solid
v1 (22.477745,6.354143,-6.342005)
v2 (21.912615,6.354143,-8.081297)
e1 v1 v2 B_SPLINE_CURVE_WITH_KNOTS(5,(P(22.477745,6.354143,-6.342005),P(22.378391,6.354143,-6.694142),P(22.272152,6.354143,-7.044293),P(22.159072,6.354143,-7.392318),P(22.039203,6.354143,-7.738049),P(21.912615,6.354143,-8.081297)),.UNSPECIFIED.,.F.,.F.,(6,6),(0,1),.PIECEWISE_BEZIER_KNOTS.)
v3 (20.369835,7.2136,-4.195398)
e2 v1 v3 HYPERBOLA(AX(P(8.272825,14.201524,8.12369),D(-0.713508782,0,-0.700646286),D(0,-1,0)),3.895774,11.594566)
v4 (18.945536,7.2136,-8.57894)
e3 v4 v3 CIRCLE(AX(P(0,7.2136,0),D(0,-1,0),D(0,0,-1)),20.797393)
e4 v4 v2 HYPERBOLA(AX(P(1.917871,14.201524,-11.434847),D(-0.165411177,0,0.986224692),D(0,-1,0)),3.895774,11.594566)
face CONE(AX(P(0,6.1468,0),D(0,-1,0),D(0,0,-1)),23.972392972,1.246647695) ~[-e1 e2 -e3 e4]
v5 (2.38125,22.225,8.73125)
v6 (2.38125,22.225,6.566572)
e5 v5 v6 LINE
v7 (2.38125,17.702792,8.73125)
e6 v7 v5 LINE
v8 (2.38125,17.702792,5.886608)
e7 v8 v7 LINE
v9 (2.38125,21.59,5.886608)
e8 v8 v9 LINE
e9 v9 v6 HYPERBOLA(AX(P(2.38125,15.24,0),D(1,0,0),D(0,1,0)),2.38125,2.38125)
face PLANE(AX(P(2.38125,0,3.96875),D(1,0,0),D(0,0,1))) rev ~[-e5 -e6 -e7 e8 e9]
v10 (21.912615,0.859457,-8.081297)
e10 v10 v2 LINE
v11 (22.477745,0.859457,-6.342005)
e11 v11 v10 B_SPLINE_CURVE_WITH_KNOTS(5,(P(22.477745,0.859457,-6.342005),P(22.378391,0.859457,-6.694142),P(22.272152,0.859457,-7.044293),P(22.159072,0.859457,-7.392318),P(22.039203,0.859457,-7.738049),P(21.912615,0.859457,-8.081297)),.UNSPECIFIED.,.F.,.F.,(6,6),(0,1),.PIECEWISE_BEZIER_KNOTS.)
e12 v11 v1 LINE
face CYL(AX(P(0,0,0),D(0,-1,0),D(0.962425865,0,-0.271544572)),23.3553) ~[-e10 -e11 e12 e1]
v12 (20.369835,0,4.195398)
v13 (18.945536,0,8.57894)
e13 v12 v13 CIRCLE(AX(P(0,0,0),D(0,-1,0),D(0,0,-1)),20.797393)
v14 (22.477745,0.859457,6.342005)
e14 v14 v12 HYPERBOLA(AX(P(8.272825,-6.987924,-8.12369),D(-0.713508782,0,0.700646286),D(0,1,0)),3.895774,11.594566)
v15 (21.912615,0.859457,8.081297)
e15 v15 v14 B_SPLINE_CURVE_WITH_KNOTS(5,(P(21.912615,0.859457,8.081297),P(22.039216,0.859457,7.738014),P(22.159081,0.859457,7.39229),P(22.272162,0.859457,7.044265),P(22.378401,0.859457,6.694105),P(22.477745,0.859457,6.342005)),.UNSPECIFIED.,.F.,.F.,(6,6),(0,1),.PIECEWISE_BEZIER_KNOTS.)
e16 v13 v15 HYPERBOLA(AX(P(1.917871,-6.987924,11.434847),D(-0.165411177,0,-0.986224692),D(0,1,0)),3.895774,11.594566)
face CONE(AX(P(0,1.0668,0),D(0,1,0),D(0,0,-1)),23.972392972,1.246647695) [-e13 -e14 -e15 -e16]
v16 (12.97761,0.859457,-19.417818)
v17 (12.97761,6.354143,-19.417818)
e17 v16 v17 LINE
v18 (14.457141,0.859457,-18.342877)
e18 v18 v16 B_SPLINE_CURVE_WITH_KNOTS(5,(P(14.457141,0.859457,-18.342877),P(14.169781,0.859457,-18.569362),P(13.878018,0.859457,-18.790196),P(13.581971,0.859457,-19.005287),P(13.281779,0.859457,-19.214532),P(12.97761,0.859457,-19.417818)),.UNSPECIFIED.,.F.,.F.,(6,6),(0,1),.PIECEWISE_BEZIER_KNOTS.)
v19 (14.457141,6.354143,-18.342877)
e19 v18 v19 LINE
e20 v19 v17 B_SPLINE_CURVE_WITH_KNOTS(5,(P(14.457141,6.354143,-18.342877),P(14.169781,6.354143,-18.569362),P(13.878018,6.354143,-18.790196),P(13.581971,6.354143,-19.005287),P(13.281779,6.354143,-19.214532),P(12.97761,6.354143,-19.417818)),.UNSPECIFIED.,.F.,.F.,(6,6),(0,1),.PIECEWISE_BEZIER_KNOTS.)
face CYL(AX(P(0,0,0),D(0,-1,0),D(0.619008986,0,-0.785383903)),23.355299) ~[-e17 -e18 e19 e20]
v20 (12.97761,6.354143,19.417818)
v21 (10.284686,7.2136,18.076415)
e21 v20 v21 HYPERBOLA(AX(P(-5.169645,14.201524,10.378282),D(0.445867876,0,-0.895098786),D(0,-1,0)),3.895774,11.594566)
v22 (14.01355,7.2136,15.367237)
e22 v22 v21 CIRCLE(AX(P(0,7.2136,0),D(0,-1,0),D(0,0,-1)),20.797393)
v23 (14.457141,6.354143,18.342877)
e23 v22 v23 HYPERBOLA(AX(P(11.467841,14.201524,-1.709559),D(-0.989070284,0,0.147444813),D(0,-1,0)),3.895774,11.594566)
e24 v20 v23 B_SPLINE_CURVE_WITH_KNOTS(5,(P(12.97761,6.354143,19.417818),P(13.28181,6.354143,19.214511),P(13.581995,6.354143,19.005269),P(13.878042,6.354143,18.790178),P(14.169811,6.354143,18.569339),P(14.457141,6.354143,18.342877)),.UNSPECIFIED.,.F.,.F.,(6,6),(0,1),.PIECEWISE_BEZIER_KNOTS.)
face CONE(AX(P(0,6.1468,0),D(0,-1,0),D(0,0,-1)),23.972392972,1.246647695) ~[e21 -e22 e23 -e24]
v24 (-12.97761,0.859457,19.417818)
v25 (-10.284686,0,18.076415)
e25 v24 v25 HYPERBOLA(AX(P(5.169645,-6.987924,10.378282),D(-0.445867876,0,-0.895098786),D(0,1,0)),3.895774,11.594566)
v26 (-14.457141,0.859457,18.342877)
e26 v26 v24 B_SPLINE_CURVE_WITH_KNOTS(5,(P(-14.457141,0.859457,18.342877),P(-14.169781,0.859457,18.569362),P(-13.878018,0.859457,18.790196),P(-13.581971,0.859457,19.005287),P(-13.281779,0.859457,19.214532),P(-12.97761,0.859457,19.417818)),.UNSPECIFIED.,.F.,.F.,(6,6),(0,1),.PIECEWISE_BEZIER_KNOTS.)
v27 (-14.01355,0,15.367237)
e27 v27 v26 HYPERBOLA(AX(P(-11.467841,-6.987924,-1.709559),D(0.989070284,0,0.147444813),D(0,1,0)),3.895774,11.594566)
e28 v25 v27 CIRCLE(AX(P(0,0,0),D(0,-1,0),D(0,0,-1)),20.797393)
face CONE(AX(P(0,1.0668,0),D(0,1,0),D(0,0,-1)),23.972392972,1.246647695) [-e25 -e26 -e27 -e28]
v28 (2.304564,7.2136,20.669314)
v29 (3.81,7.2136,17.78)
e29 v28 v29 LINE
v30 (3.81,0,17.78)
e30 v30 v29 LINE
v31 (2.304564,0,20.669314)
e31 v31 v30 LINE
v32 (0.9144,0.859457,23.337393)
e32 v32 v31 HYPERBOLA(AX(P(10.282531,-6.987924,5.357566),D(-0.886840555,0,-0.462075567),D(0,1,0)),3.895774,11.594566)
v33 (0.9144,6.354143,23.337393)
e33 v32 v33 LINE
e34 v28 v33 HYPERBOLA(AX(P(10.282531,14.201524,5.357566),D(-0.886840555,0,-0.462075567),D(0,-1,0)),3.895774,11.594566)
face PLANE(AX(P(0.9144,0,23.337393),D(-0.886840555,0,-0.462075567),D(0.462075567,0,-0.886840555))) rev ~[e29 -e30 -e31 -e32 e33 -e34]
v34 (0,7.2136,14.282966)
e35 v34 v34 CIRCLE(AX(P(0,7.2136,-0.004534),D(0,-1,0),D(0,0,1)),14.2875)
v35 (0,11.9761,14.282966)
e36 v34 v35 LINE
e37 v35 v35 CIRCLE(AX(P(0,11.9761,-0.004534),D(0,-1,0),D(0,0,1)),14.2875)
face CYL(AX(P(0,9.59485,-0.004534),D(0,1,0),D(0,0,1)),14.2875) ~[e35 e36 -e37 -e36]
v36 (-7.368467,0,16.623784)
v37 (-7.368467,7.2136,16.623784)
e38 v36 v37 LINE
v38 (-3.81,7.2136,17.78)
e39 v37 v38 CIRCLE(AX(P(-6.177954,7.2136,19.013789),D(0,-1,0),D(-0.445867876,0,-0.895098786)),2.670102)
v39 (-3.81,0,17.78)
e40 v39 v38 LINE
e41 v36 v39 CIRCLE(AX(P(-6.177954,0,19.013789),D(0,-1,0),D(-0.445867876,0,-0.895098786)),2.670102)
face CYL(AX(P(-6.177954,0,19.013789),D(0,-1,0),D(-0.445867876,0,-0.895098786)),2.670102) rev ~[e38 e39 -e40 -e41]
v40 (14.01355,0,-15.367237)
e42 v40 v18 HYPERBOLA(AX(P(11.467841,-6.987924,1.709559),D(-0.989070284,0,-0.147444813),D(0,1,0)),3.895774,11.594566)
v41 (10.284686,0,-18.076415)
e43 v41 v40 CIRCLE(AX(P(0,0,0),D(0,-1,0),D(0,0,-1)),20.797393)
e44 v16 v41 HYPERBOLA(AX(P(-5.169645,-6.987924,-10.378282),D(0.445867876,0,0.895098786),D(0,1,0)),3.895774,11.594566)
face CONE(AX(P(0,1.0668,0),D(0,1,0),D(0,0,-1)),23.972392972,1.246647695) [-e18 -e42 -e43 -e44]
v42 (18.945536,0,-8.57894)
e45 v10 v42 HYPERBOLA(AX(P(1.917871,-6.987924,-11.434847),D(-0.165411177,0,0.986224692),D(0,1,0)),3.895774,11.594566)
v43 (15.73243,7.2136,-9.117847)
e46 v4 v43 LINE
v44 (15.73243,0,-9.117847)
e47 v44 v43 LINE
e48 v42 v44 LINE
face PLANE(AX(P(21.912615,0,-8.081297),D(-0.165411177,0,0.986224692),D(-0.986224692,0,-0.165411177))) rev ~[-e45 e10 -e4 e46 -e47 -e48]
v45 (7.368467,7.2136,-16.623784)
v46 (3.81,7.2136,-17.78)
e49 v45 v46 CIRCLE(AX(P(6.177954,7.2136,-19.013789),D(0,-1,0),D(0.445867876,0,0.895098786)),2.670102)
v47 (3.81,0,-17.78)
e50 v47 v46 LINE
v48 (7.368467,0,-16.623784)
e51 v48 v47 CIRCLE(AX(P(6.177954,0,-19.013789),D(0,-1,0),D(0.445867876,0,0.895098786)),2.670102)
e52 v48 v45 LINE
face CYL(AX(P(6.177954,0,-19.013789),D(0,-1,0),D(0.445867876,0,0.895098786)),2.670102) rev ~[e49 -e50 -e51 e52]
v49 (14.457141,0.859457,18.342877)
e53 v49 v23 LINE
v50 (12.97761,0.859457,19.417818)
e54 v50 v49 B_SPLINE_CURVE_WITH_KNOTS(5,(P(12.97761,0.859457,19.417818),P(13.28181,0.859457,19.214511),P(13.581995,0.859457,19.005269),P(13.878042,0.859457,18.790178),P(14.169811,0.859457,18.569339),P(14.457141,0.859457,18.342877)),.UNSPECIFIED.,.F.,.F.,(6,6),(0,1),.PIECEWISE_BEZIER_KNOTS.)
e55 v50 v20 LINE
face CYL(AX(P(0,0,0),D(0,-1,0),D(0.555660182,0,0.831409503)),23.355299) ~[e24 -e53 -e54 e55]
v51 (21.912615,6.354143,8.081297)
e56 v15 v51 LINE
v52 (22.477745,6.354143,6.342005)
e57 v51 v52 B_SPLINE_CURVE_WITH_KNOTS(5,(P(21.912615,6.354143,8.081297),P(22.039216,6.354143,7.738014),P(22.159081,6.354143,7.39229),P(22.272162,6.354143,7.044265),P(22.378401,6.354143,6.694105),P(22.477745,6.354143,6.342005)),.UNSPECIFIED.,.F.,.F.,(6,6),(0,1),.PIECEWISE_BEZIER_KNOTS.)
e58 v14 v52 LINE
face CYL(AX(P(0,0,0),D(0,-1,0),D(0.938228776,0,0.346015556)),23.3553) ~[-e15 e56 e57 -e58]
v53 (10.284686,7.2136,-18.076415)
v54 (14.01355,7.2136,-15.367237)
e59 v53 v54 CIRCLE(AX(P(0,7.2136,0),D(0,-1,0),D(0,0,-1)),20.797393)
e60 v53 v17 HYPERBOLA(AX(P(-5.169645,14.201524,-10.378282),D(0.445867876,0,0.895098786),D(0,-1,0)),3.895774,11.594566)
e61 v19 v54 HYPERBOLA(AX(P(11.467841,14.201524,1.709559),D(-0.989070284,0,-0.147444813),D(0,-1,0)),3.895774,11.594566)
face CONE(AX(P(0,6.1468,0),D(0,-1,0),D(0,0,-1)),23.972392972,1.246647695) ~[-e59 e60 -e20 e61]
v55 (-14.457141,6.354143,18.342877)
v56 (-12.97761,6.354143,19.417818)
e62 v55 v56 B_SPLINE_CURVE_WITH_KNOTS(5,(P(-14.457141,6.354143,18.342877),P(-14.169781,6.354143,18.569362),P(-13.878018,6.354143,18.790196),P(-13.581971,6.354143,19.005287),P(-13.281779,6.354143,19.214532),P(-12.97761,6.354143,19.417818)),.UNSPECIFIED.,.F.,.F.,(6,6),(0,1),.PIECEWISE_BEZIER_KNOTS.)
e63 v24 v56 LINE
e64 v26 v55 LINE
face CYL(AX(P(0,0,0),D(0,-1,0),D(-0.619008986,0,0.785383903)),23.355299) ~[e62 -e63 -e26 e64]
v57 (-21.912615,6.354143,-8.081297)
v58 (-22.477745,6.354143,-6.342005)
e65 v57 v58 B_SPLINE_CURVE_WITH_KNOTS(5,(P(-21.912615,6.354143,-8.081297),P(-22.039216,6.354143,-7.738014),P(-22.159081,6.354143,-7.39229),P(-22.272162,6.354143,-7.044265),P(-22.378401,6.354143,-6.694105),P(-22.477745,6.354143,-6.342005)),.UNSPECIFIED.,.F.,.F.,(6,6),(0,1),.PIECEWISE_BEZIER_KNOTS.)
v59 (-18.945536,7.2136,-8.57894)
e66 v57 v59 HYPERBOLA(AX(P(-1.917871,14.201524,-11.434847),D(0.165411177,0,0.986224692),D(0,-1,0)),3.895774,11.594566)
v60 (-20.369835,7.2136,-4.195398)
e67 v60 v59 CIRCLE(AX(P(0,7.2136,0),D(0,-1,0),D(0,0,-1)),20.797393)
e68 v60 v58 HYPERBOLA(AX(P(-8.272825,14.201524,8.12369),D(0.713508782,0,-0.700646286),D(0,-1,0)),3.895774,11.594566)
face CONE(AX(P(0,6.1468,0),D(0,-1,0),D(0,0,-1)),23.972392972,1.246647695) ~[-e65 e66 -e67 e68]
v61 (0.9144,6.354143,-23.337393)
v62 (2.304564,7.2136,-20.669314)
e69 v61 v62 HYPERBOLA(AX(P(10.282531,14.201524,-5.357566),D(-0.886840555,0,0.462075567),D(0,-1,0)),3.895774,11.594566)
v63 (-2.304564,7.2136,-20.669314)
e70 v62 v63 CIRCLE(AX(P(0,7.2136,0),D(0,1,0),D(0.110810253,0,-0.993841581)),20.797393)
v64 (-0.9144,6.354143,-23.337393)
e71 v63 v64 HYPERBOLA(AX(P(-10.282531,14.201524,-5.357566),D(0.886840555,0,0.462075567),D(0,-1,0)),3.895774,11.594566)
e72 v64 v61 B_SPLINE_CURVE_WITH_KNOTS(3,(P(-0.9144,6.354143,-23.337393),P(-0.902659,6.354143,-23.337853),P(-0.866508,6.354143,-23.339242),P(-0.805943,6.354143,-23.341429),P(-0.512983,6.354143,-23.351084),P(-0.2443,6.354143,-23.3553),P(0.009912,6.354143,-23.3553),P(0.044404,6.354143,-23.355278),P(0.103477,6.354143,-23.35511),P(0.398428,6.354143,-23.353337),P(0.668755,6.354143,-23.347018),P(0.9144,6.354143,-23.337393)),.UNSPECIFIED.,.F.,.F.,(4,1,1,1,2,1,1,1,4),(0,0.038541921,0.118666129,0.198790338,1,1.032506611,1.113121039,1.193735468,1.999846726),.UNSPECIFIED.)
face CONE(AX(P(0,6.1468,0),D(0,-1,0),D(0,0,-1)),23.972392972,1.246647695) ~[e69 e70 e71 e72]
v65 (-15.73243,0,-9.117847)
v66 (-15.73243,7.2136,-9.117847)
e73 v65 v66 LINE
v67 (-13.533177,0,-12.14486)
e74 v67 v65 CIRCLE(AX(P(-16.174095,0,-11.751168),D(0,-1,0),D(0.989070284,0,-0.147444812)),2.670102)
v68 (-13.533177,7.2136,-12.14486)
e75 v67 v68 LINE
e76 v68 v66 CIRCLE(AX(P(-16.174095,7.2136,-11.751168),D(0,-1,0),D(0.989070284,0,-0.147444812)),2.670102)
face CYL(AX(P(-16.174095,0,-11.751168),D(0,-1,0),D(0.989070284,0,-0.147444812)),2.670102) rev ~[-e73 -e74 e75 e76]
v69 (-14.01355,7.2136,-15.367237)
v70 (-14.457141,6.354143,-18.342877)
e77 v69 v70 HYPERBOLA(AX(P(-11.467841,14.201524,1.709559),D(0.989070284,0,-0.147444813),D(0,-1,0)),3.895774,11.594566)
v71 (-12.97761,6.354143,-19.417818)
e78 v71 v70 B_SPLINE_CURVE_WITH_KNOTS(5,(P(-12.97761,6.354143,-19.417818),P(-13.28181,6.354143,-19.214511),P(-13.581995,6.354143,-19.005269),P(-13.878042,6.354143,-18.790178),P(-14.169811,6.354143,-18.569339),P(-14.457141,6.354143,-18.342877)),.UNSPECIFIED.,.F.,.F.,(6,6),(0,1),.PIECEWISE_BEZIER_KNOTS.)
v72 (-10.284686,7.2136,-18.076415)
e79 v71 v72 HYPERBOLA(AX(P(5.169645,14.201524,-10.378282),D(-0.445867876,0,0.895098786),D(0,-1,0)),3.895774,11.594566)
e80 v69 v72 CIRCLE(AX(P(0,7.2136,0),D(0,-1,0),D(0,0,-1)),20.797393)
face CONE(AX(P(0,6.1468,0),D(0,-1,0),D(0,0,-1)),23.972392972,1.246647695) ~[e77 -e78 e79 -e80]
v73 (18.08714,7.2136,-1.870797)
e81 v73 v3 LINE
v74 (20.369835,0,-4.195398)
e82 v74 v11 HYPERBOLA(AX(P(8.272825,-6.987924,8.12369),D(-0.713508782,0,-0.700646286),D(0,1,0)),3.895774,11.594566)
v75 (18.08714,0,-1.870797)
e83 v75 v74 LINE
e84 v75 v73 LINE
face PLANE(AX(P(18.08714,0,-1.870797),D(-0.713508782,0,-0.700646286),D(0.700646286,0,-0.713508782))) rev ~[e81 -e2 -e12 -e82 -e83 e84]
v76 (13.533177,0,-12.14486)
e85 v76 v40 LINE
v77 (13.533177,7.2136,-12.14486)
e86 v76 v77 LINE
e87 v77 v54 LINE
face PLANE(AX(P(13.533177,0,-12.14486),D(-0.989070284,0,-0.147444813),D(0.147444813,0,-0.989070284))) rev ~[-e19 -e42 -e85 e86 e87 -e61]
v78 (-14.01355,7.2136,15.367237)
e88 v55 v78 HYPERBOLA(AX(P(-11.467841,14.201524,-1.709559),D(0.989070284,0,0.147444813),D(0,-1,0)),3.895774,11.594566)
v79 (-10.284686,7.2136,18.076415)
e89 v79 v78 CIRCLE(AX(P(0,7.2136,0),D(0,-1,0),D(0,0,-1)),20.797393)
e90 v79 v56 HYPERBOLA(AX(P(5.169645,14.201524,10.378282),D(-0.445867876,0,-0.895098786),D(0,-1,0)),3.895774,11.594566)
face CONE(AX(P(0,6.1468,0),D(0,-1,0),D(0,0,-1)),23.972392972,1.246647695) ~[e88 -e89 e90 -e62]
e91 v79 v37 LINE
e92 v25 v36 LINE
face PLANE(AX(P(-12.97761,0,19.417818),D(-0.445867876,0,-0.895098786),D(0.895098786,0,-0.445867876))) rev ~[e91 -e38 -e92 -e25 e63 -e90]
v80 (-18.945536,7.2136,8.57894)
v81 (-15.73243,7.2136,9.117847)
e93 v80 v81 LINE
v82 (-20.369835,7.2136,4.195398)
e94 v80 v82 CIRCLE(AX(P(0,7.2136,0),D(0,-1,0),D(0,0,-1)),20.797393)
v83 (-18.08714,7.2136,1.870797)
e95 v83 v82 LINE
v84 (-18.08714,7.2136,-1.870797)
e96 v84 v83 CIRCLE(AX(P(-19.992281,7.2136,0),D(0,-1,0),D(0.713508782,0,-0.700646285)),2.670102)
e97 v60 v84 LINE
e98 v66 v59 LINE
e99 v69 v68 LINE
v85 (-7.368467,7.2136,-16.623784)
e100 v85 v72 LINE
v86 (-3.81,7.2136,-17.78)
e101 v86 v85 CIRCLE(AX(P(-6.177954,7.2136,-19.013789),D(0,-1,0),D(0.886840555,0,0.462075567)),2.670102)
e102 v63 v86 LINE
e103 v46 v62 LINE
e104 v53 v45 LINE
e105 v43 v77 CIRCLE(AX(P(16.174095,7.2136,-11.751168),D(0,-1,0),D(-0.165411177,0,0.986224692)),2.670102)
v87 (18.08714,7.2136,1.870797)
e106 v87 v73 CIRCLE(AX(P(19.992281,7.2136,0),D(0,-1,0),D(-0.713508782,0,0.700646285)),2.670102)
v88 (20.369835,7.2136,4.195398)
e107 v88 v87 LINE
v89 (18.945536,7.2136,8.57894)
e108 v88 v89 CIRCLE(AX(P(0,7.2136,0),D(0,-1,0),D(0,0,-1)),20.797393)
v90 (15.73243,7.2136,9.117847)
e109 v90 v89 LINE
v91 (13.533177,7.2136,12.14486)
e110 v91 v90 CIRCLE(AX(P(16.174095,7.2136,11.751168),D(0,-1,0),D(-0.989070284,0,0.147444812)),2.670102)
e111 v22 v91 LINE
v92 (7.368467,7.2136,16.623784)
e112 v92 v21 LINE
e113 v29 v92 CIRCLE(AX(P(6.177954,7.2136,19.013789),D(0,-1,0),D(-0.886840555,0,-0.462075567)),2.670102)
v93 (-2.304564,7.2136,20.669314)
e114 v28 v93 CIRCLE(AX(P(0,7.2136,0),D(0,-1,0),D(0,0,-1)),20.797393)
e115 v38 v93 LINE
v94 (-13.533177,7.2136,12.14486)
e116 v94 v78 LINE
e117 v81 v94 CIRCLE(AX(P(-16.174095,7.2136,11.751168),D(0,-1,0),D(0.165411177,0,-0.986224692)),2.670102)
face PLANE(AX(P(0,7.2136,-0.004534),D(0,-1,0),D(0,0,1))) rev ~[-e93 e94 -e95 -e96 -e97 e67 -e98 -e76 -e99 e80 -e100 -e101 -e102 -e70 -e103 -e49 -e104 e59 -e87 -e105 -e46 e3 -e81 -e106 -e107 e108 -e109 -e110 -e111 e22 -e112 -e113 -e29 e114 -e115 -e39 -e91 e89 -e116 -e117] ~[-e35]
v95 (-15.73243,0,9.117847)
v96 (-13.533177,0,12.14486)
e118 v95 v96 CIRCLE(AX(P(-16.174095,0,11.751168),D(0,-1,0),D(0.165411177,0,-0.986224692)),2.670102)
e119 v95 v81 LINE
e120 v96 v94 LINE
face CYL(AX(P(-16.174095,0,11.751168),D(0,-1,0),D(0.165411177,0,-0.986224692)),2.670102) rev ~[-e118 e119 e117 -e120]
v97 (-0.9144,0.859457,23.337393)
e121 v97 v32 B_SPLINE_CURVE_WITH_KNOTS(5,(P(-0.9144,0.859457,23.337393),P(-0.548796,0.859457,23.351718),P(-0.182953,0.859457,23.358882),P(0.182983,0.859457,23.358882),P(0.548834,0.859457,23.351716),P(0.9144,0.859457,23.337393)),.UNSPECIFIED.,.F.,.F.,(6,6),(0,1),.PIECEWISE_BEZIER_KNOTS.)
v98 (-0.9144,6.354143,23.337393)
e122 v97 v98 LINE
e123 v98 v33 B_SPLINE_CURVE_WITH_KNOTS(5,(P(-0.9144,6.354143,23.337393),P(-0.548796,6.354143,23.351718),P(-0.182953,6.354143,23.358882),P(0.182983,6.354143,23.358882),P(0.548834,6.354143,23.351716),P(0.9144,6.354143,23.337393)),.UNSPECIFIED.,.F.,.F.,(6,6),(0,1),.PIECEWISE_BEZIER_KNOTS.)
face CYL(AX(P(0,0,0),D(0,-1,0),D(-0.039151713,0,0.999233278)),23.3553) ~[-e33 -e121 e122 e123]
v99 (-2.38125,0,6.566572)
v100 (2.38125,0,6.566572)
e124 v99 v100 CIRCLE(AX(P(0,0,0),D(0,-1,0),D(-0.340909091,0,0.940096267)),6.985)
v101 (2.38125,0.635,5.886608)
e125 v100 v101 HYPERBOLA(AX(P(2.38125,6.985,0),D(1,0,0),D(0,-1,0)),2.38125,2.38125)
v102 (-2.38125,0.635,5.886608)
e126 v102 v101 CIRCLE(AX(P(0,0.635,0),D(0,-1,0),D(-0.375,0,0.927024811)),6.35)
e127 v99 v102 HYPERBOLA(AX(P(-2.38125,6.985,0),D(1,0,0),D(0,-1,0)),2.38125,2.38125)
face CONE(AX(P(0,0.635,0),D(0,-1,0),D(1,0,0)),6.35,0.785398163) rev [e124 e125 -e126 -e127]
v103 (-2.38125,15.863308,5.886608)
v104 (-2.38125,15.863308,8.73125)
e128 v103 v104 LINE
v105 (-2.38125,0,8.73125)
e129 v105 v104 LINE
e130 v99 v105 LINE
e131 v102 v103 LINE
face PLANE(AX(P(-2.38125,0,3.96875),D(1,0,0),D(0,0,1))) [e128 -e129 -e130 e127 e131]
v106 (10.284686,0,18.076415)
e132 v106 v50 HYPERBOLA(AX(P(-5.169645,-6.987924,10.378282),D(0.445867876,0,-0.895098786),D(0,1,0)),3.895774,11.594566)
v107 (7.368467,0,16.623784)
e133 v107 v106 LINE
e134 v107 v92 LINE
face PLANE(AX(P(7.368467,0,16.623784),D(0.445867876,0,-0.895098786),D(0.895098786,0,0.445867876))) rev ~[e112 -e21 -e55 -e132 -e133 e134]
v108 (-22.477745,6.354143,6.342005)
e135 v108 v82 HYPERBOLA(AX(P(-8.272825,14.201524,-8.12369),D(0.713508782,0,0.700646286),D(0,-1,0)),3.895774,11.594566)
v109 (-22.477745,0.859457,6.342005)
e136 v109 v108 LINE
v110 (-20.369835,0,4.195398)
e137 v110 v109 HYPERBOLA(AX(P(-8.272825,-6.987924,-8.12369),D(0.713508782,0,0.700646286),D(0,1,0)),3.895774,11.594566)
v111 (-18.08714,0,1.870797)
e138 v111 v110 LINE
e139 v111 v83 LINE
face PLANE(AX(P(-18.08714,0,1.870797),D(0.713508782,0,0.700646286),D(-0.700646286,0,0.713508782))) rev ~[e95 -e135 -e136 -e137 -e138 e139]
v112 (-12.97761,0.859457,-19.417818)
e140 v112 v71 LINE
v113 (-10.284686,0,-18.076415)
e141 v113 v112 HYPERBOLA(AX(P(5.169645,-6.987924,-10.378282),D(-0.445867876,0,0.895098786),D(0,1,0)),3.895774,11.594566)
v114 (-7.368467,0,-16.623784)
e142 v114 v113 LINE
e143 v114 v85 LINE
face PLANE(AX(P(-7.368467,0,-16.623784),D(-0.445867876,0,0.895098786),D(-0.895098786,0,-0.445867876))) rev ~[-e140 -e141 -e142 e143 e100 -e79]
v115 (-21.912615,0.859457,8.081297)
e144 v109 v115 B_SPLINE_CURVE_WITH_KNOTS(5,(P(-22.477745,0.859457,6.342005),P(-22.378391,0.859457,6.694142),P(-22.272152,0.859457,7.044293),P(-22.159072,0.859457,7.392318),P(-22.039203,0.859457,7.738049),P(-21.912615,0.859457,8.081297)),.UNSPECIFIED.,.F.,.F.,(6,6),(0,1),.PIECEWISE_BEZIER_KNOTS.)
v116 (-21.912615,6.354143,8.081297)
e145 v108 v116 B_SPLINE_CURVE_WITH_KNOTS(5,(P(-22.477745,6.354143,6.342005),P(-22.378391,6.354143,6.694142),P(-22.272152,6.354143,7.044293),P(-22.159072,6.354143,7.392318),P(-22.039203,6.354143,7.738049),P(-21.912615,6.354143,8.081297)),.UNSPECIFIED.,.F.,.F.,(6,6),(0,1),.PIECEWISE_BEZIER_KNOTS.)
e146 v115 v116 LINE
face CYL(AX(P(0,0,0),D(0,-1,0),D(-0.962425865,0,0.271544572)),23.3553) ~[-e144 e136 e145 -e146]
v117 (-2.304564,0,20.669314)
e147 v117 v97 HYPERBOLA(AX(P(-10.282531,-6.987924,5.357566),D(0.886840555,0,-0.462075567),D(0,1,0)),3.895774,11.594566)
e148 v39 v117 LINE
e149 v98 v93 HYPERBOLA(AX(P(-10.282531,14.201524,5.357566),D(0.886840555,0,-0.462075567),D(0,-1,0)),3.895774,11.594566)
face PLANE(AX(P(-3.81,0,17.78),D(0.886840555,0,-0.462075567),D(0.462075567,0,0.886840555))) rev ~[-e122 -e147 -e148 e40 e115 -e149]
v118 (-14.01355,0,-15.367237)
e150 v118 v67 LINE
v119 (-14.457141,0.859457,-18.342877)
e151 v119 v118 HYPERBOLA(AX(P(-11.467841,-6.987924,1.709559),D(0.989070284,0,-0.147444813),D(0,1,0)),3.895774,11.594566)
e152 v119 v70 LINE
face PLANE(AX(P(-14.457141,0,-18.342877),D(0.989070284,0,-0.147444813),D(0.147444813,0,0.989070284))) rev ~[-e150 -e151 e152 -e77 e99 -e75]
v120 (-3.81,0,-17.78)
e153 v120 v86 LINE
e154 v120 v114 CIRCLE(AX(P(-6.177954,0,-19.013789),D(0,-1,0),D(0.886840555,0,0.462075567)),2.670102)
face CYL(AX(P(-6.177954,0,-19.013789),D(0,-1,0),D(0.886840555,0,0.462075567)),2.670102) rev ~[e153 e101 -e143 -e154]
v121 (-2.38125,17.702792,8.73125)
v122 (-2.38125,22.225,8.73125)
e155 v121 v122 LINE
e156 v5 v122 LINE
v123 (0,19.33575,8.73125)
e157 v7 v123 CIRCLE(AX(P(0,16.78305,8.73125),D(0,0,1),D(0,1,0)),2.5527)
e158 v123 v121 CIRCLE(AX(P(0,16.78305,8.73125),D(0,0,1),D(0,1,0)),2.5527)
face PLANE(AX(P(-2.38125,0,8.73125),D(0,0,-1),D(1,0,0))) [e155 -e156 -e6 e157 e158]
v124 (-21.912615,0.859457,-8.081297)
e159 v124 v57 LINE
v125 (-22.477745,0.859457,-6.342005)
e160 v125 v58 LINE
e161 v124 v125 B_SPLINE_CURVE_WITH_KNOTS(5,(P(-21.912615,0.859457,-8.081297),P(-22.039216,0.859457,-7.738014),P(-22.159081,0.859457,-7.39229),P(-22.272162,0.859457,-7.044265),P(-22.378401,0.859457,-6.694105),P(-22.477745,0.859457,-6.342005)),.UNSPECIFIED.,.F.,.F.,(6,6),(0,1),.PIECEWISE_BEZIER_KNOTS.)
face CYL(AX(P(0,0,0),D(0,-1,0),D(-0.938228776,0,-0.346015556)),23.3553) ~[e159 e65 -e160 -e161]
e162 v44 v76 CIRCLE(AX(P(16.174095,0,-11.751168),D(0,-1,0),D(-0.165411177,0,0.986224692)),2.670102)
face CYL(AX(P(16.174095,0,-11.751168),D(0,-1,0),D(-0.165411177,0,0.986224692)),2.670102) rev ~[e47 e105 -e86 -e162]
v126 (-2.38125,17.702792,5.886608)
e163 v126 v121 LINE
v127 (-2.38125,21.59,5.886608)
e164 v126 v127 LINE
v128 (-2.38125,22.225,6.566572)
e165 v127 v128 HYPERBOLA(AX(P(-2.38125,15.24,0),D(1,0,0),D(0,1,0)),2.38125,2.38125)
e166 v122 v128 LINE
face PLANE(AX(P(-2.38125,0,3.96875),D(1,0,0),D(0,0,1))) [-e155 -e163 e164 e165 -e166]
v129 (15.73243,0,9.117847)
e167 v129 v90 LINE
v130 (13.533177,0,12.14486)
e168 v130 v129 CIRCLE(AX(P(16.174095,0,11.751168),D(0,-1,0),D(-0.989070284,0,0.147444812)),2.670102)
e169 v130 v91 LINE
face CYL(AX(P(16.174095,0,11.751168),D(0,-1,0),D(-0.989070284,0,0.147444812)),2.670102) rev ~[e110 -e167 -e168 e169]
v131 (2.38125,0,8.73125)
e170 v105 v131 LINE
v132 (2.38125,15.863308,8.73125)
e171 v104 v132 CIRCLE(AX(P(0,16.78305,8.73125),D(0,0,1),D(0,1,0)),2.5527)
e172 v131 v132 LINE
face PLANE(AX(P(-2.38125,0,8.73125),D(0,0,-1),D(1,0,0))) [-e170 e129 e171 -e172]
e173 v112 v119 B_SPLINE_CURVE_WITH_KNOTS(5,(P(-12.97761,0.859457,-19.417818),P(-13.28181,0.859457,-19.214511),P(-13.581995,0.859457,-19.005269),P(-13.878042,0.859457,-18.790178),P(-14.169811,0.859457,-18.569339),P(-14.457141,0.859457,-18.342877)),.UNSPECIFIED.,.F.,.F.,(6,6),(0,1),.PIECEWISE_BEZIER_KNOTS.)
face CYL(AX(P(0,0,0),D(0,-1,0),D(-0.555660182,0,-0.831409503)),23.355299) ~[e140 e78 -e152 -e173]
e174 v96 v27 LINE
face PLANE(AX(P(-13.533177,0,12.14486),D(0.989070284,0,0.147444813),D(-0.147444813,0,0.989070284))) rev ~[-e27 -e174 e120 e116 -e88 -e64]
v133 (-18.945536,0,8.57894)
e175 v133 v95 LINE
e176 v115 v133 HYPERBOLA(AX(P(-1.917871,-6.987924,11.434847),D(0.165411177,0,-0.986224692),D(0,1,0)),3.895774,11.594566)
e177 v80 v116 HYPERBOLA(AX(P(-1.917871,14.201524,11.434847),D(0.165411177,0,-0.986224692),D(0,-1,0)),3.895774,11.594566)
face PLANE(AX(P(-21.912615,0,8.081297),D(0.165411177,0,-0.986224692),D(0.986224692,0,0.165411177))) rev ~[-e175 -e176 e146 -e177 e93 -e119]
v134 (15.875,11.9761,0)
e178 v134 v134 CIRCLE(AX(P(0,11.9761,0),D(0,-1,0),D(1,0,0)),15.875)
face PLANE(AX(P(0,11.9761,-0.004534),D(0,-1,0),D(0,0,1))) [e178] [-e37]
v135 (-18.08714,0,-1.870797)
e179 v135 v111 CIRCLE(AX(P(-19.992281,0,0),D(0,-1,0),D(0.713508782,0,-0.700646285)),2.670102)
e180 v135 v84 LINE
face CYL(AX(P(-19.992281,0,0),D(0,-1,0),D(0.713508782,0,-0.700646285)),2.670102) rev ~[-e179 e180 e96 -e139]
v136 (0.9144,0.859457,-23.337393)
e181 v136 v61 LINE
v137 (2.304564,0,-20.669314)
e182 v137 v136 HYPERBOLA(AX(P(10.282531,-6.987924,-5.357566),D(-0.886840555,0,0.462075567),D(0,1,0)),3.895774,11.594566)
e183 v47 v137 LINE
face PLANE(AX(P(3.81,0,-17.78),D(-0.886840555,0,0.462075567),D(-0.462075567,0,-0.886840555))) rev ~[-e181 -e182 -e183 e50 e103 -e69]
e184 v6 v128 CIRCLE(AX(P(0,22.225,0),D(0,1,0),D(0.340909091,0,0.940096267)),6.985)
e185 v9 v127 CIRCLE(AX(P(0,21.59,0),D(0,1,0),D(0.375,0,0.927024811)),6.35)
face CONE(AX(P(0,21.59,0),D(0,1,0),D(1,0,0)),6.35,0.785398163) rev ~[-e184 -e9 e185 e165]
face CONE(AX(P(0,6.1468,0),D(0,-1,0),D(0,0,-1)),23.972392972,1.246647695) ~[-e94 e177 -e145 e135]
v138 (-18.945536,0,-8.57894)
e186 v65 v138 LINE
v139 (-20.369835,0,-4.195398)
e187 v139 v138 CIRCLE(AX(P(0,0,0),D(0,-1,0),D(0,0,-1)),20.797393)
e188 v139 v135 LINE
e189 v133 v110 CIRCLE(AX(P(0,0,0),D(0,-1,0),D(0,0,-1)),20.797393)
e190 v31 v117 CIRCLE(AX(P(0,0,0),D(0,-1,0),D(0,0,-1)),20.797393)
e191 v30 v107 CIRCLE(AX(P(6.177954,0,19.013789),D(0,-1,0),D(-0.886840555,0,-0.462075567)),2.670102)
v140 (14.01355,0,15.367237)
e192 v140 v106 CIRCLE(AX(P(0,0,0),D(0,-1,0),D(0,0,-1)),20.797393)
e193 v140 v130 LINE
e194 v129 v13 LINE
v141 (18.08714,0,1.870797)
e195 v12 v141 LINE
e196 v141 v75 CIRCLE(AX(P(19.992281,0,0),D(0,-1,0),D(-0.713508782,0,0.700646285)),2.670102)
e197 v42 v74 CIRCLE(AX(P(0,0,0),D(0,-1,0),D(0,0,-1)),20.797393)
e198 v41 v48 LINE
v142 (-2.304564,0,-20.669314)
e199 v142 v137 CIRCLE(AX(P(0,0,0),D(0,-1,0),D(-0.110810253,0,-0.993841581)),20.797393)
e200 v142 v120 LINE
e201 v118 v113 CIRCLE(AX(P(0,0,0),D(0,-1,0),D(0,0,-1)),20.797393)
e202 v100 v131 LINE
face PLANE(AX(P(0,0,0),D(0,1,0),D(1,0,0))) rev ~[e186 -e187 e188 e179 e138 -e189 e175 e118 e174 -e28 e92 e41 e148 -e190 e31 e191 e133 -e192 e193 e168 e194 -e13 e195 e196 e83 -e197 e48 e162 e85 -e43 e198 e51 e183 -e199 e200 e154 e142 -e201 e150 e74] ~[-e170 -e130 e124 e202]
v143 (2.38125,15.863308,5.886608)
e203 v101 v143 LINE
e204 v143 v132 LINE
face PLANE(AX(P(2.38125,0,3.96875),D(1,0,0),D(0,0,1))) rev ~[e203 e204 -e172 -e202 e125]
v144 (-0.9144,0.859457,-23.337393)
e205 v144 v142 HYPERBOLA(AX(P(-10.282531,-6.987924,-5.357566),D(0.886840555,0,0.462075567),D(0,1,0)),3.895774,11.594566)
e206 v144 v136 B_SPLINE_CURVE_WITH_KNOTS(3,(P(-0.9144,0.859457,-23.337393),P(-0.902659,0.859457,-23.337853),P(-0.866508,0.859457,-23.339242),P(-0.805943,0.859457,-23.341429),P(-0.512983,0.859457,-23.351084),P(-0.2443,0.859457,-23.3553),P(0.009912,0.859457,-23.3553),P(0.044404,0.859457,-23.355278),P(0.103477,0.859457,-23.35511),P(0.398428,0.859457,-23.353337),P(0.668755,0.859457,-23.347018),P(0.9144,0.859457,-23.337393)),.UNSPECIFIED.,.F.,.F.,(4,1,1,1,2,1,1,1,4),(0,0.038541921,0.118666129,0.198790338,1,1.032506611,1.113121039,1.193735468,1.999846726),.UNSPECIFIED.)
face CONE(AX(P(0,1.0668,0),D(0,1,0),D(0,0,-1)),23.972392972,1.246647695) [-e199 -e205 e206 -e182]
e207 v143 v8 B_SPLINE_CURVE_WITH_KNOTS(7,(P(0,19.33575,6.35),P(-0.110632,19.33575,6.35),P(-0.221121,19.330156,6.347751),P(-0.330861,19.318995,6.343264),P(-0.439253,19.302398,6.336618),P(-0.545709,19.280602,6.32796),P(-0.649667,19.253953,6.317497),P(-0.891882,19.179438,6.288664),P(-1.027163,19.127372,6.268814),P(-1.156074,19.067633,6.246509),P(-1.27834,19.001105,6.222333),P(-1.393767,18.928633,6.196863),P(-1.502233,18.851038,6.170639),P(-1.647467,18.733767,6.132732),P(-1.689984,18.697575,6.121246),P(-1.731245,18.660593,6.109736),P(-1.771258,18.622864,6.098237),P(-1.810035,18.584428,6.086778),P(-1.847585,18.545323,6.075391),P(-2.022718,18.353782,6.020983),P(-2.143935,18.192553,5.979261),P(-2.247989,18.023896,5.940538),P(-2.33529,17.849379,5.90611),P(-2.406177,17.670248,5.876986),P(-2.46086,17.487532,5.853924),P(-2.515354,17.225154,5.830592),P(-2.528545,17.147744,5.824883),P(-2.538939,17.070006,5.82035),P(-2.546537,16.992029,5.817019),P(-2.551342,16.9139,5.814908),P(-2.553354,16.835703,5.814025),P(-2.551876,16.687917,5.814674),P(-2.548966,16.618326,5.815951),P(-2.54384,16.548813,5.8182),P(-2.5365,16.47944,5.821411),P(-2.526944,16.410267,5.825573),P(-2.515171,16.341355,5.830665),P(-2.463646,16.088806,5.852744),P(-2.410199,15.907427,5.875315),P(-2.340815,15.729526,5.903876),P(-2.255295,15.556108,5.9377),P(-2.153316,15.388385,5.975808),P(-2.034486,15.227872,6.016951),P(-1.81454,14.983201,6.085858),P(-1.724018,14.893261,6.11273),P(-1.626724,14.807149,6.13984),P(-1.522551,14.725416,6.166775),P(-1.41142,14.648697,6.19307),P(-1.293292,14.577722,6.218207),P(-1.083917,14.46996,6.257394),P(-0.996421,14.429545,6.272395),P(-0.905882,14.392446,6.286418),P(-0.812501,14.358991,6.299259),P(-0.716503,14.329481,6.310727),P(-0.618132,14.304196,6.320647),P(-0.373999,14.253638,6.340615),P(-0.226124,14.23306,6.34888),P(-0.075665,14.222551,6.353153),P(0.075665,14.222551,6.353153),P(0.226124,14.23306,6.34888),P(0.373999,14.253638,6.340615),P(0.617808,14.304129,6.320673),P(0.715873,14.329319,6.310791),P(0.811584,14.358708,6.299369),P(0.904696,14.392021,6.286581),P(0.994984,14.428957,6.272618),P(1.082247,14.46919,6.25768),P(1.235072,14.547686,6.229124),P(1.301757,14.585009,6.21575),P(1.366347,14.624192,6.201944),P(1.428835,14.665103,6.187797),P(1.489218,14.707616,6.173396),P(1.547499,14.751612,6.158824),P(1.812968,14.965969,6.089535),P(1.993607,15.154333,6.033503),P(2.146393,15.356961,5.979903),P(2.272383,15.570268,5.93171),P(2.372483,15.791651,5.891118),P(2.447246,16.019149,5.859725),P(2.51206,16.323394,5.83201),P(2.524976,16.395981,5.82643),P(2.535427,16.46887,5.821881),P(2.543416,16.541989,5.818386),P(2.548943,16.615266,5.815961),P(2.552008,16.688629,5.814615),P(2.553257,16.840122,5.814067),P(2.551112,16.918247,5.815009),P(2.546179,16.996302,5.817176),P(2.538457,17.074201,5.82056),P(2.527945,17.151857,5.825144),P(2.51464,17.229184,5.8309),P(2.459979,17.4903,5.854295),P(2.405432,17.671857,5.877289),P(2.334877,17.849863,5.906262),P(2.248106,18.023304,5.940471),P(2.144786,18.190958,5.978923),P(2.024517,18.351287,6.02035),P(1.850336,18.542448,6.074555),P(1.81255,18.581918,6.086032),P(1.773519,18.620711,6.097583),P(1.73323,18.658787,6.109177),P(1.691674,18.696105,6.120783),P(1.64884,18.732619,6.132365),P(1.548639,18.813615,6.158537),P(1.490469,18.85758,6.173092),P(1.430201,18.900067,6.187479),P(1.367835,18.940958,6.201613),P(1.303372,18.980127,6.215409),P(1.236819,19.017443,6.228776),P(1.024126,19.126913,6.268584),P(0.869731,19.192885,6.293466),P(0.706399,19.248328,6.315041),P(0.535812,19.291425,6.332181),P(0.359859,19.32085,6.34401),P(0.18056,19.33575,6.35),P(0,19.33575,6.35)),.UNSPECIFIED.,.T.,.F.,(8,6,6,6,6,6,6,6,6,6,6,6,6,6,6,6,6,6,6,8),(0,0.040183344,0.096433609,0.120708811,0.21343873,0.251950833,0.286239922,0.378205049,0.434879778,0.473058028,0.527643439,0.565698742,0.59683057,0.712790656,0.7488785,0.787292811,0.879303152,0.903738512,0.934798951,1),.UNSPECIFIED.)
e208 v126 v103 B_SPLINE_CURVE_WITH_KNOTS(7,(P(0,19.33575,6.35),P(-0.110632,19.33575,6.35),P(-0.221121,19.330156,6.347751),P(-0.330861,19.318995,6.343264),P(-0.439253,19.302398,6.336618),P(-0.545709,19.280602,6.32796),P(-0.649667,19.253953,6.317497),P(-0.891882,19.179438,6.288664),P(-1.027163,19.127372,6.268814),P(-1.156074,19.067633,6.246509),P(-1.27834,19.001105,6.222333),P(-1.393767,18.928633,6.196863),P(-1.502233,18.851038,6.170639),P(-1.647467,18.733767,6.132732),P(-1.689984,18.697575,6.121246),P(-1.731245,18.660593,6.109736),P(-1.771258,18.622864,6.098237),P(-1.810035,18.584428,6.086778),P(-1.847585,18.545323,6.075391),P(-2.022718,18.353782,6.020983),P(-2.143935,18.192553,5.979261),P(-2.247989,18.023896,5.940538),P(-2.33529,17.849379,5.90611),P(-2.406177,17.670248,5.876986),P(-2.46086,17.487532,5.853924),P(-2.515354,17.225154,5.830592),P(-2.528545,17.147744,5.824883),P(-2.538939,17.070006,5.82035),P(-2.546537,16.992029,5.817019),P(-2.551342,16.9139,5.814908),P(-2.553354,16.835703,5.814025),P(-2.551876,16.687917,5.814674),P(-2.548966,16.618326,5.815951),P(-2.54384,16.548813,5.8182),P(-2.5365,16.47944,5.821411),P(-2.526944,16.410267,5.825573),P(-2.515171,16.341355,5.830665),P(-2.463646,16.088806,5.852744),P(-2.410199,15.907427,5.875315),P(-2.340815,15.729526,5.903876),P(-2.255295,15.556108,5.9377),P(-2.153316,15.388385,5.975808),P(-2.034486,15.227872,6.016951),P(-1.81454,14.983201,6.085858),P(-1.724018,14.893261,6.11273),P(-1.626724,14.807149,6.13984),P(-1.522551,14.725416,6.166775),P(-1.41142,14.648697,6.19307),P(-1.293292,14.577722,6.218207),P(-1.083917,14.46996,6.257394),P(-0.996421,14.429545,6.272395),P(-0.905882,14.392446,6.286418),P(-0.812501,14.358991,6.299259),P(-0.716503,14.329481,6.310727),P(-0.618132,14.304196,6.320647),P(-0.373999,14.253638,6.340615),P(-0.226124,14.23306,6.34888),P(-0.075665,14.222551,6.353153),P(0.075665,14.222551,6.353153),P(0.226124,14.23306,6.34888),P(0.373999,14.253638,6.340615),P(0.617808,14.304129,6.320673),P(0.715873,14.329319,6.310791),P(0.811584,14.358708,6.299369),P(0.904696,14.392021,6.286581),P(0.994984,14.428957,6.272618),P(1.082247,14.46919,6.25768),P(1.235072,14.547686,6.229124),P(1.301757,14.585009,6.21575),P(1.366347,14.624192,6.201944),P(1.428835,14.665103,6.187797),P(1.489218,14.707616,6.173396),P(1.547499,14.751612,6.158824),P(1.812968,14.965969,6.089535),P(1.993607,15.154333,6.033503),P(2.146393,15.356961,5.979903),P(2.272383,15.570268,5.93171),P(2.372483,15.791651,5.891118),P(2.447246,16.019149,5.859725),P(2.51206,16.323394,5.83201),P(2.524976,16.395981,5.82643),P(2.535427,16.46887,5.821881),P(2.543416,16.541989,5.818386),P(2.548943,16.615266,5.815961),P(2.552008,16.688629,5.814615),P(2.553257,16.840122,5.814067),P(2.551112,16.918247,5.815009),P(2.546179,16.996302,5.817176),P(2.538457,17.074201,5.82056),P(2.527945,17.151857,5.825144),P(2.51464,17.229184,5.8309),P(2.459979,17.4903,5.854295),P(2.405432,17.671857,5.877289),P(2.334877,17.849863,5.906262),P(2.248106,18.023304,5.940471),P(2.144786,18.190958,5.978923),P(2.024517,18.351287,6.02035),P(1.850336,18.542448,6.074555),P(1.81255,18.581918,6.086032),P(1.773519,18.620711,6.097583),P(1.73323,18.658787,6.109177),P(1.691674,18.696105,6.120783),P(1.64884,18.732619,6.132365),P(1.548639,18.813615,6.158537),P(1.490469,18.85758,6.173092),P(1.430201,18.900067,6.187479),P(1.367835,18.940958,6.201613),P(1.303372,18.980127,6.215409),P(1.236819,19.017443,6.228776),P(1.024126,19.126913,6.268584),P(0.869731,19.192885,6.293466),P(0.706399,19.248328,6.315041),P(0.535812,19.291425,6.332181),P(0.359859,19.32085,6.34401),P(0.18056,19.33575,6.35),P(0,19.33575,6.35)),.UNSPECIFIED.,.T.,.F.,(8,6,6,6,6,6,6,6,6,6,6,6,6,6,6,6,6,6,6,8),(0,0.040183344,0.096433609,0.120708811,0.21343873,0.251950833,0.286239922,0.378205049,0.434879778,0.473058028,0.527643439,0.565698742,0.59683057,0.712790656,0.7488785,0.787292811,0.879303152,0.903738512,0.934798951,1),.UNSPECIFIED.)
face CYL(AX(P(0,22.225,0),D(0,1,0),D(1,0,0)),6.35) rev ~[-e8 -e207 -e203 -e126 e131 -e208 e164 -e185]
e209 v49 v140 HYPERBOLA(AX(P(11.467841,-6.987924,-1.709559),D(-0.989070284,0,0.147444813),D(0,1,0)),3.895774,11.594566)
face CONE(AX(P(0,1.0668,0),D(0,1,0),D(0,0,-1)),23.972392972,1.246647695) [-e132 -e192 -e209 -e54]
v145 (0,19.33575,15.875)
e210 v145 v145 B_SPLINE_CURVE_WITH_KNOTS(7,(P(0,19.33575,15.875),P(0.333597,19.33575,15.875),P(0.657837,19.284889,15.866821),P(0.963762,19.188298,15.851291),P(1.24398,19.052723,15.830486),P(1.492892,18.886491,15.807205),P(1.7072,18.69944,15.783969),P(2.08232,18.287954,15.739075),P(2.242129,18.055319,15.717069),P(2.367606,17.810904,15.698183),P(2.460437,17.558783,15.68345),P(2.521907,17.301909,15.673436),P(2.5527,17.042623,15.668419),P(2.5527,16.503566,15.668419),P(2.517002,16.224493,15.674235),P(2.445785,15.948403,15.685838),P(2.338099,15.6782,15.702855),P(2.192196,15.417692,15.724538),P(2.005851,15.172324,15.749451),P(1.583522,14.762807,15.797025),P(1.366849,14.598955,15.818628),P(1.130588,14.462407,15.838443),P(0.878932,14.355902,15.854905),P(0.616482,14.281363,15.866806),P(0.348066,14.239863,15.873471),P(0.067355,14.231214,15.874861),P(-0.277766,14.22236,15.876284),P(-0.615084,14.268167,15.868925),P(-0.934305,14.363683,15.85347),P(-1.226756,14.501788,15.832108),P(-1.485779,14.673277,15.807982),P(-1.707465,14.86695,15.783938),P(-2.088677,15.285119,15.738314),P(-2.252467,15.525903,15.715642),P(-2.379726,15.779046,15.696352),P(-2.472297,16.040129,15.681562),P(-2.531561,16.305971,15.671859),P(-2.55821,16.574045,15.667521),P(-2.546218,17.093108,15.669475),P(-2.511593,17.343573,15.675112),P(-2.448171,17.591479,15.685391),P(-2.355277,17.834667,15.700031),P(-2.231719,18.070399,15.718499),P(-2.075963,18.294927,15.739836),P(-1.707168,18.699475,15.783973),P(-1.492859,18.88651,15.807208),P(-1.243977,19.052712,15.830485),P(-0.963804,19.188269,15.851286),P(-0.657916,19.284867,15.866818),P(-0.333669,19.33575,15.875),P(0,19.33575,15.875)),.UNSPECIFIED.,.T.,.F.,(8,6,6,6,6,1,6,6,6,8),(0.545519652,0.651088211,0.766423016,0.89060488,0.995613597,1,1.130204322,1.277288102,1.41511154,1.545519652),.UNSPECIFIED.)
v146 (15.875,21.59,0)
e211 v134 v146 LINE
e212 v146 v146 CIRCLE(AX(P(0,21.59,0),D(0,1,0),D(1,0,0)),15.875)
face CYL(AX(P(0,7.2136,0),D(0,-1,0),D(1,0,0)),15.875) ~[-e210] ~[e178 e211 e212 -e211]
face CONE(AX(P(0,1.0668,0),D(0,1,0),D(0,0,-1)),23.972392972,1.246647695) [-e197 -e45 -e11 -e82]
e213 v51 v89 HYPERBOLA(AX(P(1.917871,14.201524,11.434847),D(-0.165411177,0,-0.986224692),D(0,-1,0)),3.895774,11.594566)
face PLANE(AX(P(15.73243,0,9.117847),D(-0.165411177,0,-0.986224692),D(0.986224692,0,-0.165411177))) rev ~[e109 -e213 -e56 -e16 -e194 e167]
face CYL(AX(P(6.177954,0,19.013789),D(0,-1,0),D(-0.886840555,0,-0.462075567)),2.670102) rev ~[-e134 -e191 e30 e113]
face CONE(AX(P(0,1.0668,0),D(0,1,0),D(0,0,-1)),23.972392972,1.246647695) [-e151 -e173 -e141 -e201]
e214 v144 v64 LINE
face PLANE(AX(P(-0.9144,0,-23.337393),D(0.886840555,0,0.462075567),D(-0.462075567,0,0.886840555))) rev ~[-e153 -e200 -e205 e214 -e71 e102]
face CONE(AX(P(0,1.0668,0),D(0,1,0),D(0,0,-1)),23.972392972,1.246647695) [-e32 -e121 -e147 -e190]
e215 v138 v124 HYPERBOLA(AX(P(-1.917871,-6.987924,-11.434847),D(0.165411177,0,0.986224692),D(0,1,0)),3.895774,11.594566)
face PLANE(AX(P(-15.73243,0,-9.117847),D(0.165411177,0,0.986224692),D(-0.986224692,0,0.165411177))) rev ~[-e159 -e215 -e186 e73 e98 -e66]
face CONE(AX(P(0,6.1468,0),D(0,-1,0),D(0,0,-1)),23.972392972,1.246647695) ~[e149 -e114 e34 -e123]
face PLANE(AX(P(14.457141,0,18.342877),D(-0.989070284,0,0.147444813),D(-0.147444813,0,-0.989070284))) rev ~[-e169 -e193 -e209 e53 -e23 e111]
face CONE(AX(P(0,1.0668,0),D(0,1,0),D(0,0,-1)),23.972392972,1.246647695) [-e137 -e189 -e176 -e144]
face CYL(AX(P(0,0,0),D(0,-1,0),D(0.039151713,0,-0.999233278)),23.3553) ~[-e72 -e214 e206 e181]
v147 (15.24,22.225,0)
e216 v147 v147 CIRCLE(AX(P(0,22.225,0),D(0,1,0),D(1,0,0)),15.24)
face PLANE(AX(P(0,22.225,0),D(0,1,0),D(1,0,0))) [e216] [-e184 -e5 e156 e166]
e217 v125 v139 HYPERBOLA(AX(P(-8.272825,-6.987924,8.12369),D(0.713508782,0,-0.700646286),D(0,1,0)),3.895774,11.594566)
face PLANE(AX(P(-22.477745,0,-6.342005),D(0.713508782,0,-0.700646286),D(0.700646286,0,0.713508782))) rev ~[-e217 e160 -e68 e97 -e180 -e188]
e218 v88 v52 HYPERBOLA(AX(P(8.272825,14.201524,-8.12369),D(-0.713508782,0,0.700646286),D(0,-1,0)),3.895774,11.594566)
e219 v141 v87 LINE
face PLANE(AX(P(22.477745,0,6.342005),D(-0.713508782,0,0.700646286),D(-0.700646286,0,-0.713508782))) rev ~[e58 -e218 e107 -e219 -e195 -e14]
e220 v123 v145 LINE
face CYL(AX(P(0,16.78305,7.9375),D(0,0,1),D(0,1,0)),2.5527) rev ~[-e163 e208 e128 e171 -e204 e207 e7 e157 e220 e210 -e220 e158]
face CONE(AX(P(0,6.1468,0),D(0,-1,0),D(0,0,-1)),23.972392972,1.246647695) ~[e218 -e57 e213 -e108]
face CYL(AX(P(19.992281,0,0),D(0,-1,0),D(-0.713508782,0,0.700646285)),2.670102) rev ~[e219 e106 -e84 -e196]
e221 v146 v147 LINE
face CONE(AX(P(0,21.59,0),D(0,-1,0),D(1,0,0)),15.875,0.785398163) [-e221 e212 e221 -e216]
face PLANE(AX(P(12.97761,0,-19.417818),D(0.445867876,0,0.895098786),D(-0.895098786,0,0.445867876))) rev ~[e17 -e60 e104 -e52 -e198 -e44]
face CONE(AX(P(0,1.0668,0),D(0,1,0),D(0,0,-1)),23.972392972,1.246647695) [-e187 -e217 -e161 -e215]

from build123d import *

# Parameters (mm, degrees)
SALIENTE_EXTRUIR1_DEPTH = 7.2136
CROQUIS2_R              = 15.875
SALIENTE_EXTRUIR2_DEPTH = 15.0114
CROQUIS5_R              = 6.35
CORTAR_EXTRUIR2_DEPTH   = 23.2250001
CHAFL_N2_SIZE           = 0.635
REDONDEO1_R             = 0.635
CROQUIS8_W              = 3.175
CROQUIS8_H              = 4.7625
CROQUIS9_W              = 2.5527
CROQUIS9_H              = 15.875
CHAFL_N3_SIZE           = 0.635
CROQUIS11_W             = 4.7625
CROQUIS11_H             = 4.7625
CORTAR_EXTRUIR3_DEPTH   = 23.225


with BuildPart() as part:
    # Croquis1 → Saliente-Extruir1 (new body)
    with BuildSketch(Plane(origin=(0, 0, 0), x_dir=(1, 0, 0), z_dir=(0, 1, 0))):
        with BuildLine():
            Line((12.977610276, 19.417818353), (7.368467037, 16.623783971))
            ThreePointArc((7.368467037, 16.623783971), (5.352847667, 16.474371141), (3.81, 17.78))
            Line((3.81, 17.78), (0.9144, 23.337392972))
            ThreePointArc((0.9144, 23.337392972), (0, 23.3553), (-0.9144, 23.337392972))
            Line((-0.9144, 23.337392972), (-3.81, 17.78))
            ThreePointArc((-3.81, 17.78), (-5.352847667, 16.474371141), (-7.368467037, 16.623783971))
            Line((-7.368467037, 16.623783971), (-12.977610276, 19.417818353))
            ThreePointArc((-12.977610276, 19.417818353), (-13.727900903, 18.894834609), (-14.457140556, 18.342876684))
            Line((-14.457140556, 18.342876684), (-13.533176534, 12.144860349))
            ThreePointArc((-13.533176534, 12.144860349), (-14.013937128, 10.181721309), (-15.732430111, 9.117847487))
            Line((-15.732430111, 9.117847487), (-21.91261452, 8.081297111))
            ThreePointArc((-21.91261452, 8.081297111), (-22.212210255, 7.217184609), (-22.477744799, 6.342004954))
            Line((-22.477744799, 6.342004954), (-18.087139608, 1.870796833))
            ThreePointArc((-18.087139608, 1.870796833), (-17.322178923, 0), (-18.087139608, -1.870796833))
            Line((-18.087139608, -1.870796833), (-22.477744799, -6.342004954))
            ThreePointArc((-22.477744799, -6.342004954), (-22.212210255, -7.217184609), (-21.91261452, -8.081297111))
            Line((-21.91261452, -8.081297111), (-15.732430111, -9.117847487))
            ThreePointArc((-15.732430111, -9.117847487), (-14.013937128, -10.181721309), (-13.533176534, -12.144860349))
            Line((-13.533176534, -12.144860349), (-14.457140556, -18.342876684))
            ThreePointArc((-14.457140556, -18.342876684), (-13.727900903, -18.894834609), (-12.977610276, -19.417818353))
            Line((-12.977610276, -19.417818353), (-7.368467037, -16.623783971))
            ThreePointArc((-7.368467037, -16.623783971), (-5.352847667, -16.474371141), (-3.81, -17.78))
            Line((-3.81, -17.78), (-0.9144, -23.337392972))
            ThreePointArc((-0.9144, -23.337392972), (0, -23.3553), (0.9144, -23.337392972))
            Line((0.9144, -23.337392972), (3.81, -17.78))
            ThreePointArc((3.81, -17.78), (5.352847667, -16.474371141), (7.368467037, -16.623783971))
            Line((7.368467037, -16.623783971), (12.977610276, -19.417818353))
            ThreePointArc((12.977610276, -19.417818353), (13.727900903, -18.894834609), (14.457140556, -18.342876684))
            Line((14.457140556, -18.342876684), (13.533176534, -12.144860349))
            ThreePointArc((13.533176534, -12.144860349), (14.013937128, -10.181721309), (15.732430111, -9.117847487))
            Line((15.732430111, -9.117847487), (21.91261452, -8.081297111))
            ThreePointArc((21.91261452, -8.081297111), (22.212210255, -7.217184609), (22.477744799, -6.342004954))
            Line((22.477744799, -6.342004954), (18.087139608, -1.870796833))
            ThreePointArc((18.087139608, -1.870796833), (17.322178923, 0), (18.087139608, 1.870796833))
            Line((18.087139608, 1.870796833), (22.477744799, 6.342004954))
            ThreePointArc((22.477744799, 6.342004954), (22.212210255, 7.217184609), (21.91261452, 8.081297111))
            Line((21.91261452, 8.081297111), (15.732430111, 9.117847487))
            ThreePointArc((15.732430111, 9.117847487), (14.013937128, 10.181721309), (13.533176534, 12.144860349))
            Line((13.533176534, 12.144860349), (14.457140556, 18.342876684))
            ThreePointArc((14.457140556, 18.342876684), (13.727900903, 18.894834609), (12.977610276, 19.417818353))
        make_face()
    extrude(amount=SALIENTE_EXTRUIR1_DEPTH)

    # Croquis2 → Saliente-Extruir2 (add)
    with BuildSketch(Plane(origin=(0, 7.2136, 0), x_dir=(1, 0, 0), z_dir=(0, 1, 0))):
        Circle(CROQUIS2_R)
    extrude(amount=SALIENTE_EXTRUIR2_DEPTH)

    # Croquis3 → Cortar-Revolución3 (revolve, cut)
    with BuildSketch(Plane(origin=(0, 0, 0), x_dir=(0, 0, -1), z_dir=(1, 0, 0))):
        Polygon((23.972392972, 7.2136), (23.972392972, 6.1468), (20.797392972, 7.2136), align=None)
    cortar_revoluci_n3 = revolve(axis=Axis((0, 0, 0), (0, -1, 0)), mode=Mode.SUBTRACT)

    # Simetría1: Cortar-Revolución3 across plane
    add(cortar_revoluci_n3.mirror(Plane.ZX.offset(3.6068)), mode=Mode.SUBTRACT)

    # Croquis5 → Cortar-Extruir2 (cut, through all)
    with BuildSketch(Plane(origin=(0, 22.225, 0), x_dir=(1, 0, 0), z_dir=(0, 1, 0))):
        Circle(CROQUIS5_R)
    extrude(amount=-CORTAR_EXTRUIR2_DEPTH, mode=Mode.SUBTRACT)

    # Chaflán2
    chafl_n2_edges = [part.edges().sort_by_distance(p)[0] for p in [
        (-15.875, 22.225, 0),
    ]]
    chamfer(chafl_n2_edges, length=CHAFL_N2_SIZE)

    # Redondeo1
    redondeo1_edges = [part.edges().sort_by_distance(p)[0] for p in [
        (-15.875, 7.2136, 0),
    ]]
    fillet(redondeo1_edges, radius=REDONDEO1_R)

    # Croquis8 → Cortar-Revolución4 (revolve, cut)
    with BuildSketch(Plane(origin=(0, 0, 0), x_dir=(0, 0, -1), z_dir=(1, 0, 0))):
        with Locations((-15.870465895, 9.59485)):
            Rectangle(CROQUIS8_W, CROQUIS8_H)
    revolve(axis=Axis((0, 0, -0.004534105), (0, -1, 0)), mode=Mode.SUBTRACT)

    # Croquis9 → Taladro roscado 1/4-201 (revolve, cut)
    with BuildSketch(Plane(origin=(0, 16.78305, 0), x_dir=(0, 1, 0), z_dir=(1, 0, 0))):
        with Locations((1.27635, 7.9375)):
            Rectangle(CROQUIS9_W, CROQUIS9_H)
    revolve(axis=Axis((0, 16.78305, -6.35), (0, 0, 1)), mode=Mode.SUBTRACT)

    # Chaflán3
    chafl_n3_edges = [part.edges().sort_by_distance(p)[0] for p in [
        (-6.35, 0, 0),
        (-6.35, 22.225, 0),
    ]]
    chamfer(chafl_n3_edges, length=CHAFL_N3_SIZE)

    # Croquis11 → Cortar-Extruir3 (cut, through all)
    with BuildSketch(Plane.XZ):
        with Locations((0, 6.35)):
            Rectangle(CROQUIS11_W, CROQUIS11_H)
    extrude(amount=-CORTAR_EXTRUIR3_DEPTH, mode=Mode.SUBTRACT)


solid = part.part
